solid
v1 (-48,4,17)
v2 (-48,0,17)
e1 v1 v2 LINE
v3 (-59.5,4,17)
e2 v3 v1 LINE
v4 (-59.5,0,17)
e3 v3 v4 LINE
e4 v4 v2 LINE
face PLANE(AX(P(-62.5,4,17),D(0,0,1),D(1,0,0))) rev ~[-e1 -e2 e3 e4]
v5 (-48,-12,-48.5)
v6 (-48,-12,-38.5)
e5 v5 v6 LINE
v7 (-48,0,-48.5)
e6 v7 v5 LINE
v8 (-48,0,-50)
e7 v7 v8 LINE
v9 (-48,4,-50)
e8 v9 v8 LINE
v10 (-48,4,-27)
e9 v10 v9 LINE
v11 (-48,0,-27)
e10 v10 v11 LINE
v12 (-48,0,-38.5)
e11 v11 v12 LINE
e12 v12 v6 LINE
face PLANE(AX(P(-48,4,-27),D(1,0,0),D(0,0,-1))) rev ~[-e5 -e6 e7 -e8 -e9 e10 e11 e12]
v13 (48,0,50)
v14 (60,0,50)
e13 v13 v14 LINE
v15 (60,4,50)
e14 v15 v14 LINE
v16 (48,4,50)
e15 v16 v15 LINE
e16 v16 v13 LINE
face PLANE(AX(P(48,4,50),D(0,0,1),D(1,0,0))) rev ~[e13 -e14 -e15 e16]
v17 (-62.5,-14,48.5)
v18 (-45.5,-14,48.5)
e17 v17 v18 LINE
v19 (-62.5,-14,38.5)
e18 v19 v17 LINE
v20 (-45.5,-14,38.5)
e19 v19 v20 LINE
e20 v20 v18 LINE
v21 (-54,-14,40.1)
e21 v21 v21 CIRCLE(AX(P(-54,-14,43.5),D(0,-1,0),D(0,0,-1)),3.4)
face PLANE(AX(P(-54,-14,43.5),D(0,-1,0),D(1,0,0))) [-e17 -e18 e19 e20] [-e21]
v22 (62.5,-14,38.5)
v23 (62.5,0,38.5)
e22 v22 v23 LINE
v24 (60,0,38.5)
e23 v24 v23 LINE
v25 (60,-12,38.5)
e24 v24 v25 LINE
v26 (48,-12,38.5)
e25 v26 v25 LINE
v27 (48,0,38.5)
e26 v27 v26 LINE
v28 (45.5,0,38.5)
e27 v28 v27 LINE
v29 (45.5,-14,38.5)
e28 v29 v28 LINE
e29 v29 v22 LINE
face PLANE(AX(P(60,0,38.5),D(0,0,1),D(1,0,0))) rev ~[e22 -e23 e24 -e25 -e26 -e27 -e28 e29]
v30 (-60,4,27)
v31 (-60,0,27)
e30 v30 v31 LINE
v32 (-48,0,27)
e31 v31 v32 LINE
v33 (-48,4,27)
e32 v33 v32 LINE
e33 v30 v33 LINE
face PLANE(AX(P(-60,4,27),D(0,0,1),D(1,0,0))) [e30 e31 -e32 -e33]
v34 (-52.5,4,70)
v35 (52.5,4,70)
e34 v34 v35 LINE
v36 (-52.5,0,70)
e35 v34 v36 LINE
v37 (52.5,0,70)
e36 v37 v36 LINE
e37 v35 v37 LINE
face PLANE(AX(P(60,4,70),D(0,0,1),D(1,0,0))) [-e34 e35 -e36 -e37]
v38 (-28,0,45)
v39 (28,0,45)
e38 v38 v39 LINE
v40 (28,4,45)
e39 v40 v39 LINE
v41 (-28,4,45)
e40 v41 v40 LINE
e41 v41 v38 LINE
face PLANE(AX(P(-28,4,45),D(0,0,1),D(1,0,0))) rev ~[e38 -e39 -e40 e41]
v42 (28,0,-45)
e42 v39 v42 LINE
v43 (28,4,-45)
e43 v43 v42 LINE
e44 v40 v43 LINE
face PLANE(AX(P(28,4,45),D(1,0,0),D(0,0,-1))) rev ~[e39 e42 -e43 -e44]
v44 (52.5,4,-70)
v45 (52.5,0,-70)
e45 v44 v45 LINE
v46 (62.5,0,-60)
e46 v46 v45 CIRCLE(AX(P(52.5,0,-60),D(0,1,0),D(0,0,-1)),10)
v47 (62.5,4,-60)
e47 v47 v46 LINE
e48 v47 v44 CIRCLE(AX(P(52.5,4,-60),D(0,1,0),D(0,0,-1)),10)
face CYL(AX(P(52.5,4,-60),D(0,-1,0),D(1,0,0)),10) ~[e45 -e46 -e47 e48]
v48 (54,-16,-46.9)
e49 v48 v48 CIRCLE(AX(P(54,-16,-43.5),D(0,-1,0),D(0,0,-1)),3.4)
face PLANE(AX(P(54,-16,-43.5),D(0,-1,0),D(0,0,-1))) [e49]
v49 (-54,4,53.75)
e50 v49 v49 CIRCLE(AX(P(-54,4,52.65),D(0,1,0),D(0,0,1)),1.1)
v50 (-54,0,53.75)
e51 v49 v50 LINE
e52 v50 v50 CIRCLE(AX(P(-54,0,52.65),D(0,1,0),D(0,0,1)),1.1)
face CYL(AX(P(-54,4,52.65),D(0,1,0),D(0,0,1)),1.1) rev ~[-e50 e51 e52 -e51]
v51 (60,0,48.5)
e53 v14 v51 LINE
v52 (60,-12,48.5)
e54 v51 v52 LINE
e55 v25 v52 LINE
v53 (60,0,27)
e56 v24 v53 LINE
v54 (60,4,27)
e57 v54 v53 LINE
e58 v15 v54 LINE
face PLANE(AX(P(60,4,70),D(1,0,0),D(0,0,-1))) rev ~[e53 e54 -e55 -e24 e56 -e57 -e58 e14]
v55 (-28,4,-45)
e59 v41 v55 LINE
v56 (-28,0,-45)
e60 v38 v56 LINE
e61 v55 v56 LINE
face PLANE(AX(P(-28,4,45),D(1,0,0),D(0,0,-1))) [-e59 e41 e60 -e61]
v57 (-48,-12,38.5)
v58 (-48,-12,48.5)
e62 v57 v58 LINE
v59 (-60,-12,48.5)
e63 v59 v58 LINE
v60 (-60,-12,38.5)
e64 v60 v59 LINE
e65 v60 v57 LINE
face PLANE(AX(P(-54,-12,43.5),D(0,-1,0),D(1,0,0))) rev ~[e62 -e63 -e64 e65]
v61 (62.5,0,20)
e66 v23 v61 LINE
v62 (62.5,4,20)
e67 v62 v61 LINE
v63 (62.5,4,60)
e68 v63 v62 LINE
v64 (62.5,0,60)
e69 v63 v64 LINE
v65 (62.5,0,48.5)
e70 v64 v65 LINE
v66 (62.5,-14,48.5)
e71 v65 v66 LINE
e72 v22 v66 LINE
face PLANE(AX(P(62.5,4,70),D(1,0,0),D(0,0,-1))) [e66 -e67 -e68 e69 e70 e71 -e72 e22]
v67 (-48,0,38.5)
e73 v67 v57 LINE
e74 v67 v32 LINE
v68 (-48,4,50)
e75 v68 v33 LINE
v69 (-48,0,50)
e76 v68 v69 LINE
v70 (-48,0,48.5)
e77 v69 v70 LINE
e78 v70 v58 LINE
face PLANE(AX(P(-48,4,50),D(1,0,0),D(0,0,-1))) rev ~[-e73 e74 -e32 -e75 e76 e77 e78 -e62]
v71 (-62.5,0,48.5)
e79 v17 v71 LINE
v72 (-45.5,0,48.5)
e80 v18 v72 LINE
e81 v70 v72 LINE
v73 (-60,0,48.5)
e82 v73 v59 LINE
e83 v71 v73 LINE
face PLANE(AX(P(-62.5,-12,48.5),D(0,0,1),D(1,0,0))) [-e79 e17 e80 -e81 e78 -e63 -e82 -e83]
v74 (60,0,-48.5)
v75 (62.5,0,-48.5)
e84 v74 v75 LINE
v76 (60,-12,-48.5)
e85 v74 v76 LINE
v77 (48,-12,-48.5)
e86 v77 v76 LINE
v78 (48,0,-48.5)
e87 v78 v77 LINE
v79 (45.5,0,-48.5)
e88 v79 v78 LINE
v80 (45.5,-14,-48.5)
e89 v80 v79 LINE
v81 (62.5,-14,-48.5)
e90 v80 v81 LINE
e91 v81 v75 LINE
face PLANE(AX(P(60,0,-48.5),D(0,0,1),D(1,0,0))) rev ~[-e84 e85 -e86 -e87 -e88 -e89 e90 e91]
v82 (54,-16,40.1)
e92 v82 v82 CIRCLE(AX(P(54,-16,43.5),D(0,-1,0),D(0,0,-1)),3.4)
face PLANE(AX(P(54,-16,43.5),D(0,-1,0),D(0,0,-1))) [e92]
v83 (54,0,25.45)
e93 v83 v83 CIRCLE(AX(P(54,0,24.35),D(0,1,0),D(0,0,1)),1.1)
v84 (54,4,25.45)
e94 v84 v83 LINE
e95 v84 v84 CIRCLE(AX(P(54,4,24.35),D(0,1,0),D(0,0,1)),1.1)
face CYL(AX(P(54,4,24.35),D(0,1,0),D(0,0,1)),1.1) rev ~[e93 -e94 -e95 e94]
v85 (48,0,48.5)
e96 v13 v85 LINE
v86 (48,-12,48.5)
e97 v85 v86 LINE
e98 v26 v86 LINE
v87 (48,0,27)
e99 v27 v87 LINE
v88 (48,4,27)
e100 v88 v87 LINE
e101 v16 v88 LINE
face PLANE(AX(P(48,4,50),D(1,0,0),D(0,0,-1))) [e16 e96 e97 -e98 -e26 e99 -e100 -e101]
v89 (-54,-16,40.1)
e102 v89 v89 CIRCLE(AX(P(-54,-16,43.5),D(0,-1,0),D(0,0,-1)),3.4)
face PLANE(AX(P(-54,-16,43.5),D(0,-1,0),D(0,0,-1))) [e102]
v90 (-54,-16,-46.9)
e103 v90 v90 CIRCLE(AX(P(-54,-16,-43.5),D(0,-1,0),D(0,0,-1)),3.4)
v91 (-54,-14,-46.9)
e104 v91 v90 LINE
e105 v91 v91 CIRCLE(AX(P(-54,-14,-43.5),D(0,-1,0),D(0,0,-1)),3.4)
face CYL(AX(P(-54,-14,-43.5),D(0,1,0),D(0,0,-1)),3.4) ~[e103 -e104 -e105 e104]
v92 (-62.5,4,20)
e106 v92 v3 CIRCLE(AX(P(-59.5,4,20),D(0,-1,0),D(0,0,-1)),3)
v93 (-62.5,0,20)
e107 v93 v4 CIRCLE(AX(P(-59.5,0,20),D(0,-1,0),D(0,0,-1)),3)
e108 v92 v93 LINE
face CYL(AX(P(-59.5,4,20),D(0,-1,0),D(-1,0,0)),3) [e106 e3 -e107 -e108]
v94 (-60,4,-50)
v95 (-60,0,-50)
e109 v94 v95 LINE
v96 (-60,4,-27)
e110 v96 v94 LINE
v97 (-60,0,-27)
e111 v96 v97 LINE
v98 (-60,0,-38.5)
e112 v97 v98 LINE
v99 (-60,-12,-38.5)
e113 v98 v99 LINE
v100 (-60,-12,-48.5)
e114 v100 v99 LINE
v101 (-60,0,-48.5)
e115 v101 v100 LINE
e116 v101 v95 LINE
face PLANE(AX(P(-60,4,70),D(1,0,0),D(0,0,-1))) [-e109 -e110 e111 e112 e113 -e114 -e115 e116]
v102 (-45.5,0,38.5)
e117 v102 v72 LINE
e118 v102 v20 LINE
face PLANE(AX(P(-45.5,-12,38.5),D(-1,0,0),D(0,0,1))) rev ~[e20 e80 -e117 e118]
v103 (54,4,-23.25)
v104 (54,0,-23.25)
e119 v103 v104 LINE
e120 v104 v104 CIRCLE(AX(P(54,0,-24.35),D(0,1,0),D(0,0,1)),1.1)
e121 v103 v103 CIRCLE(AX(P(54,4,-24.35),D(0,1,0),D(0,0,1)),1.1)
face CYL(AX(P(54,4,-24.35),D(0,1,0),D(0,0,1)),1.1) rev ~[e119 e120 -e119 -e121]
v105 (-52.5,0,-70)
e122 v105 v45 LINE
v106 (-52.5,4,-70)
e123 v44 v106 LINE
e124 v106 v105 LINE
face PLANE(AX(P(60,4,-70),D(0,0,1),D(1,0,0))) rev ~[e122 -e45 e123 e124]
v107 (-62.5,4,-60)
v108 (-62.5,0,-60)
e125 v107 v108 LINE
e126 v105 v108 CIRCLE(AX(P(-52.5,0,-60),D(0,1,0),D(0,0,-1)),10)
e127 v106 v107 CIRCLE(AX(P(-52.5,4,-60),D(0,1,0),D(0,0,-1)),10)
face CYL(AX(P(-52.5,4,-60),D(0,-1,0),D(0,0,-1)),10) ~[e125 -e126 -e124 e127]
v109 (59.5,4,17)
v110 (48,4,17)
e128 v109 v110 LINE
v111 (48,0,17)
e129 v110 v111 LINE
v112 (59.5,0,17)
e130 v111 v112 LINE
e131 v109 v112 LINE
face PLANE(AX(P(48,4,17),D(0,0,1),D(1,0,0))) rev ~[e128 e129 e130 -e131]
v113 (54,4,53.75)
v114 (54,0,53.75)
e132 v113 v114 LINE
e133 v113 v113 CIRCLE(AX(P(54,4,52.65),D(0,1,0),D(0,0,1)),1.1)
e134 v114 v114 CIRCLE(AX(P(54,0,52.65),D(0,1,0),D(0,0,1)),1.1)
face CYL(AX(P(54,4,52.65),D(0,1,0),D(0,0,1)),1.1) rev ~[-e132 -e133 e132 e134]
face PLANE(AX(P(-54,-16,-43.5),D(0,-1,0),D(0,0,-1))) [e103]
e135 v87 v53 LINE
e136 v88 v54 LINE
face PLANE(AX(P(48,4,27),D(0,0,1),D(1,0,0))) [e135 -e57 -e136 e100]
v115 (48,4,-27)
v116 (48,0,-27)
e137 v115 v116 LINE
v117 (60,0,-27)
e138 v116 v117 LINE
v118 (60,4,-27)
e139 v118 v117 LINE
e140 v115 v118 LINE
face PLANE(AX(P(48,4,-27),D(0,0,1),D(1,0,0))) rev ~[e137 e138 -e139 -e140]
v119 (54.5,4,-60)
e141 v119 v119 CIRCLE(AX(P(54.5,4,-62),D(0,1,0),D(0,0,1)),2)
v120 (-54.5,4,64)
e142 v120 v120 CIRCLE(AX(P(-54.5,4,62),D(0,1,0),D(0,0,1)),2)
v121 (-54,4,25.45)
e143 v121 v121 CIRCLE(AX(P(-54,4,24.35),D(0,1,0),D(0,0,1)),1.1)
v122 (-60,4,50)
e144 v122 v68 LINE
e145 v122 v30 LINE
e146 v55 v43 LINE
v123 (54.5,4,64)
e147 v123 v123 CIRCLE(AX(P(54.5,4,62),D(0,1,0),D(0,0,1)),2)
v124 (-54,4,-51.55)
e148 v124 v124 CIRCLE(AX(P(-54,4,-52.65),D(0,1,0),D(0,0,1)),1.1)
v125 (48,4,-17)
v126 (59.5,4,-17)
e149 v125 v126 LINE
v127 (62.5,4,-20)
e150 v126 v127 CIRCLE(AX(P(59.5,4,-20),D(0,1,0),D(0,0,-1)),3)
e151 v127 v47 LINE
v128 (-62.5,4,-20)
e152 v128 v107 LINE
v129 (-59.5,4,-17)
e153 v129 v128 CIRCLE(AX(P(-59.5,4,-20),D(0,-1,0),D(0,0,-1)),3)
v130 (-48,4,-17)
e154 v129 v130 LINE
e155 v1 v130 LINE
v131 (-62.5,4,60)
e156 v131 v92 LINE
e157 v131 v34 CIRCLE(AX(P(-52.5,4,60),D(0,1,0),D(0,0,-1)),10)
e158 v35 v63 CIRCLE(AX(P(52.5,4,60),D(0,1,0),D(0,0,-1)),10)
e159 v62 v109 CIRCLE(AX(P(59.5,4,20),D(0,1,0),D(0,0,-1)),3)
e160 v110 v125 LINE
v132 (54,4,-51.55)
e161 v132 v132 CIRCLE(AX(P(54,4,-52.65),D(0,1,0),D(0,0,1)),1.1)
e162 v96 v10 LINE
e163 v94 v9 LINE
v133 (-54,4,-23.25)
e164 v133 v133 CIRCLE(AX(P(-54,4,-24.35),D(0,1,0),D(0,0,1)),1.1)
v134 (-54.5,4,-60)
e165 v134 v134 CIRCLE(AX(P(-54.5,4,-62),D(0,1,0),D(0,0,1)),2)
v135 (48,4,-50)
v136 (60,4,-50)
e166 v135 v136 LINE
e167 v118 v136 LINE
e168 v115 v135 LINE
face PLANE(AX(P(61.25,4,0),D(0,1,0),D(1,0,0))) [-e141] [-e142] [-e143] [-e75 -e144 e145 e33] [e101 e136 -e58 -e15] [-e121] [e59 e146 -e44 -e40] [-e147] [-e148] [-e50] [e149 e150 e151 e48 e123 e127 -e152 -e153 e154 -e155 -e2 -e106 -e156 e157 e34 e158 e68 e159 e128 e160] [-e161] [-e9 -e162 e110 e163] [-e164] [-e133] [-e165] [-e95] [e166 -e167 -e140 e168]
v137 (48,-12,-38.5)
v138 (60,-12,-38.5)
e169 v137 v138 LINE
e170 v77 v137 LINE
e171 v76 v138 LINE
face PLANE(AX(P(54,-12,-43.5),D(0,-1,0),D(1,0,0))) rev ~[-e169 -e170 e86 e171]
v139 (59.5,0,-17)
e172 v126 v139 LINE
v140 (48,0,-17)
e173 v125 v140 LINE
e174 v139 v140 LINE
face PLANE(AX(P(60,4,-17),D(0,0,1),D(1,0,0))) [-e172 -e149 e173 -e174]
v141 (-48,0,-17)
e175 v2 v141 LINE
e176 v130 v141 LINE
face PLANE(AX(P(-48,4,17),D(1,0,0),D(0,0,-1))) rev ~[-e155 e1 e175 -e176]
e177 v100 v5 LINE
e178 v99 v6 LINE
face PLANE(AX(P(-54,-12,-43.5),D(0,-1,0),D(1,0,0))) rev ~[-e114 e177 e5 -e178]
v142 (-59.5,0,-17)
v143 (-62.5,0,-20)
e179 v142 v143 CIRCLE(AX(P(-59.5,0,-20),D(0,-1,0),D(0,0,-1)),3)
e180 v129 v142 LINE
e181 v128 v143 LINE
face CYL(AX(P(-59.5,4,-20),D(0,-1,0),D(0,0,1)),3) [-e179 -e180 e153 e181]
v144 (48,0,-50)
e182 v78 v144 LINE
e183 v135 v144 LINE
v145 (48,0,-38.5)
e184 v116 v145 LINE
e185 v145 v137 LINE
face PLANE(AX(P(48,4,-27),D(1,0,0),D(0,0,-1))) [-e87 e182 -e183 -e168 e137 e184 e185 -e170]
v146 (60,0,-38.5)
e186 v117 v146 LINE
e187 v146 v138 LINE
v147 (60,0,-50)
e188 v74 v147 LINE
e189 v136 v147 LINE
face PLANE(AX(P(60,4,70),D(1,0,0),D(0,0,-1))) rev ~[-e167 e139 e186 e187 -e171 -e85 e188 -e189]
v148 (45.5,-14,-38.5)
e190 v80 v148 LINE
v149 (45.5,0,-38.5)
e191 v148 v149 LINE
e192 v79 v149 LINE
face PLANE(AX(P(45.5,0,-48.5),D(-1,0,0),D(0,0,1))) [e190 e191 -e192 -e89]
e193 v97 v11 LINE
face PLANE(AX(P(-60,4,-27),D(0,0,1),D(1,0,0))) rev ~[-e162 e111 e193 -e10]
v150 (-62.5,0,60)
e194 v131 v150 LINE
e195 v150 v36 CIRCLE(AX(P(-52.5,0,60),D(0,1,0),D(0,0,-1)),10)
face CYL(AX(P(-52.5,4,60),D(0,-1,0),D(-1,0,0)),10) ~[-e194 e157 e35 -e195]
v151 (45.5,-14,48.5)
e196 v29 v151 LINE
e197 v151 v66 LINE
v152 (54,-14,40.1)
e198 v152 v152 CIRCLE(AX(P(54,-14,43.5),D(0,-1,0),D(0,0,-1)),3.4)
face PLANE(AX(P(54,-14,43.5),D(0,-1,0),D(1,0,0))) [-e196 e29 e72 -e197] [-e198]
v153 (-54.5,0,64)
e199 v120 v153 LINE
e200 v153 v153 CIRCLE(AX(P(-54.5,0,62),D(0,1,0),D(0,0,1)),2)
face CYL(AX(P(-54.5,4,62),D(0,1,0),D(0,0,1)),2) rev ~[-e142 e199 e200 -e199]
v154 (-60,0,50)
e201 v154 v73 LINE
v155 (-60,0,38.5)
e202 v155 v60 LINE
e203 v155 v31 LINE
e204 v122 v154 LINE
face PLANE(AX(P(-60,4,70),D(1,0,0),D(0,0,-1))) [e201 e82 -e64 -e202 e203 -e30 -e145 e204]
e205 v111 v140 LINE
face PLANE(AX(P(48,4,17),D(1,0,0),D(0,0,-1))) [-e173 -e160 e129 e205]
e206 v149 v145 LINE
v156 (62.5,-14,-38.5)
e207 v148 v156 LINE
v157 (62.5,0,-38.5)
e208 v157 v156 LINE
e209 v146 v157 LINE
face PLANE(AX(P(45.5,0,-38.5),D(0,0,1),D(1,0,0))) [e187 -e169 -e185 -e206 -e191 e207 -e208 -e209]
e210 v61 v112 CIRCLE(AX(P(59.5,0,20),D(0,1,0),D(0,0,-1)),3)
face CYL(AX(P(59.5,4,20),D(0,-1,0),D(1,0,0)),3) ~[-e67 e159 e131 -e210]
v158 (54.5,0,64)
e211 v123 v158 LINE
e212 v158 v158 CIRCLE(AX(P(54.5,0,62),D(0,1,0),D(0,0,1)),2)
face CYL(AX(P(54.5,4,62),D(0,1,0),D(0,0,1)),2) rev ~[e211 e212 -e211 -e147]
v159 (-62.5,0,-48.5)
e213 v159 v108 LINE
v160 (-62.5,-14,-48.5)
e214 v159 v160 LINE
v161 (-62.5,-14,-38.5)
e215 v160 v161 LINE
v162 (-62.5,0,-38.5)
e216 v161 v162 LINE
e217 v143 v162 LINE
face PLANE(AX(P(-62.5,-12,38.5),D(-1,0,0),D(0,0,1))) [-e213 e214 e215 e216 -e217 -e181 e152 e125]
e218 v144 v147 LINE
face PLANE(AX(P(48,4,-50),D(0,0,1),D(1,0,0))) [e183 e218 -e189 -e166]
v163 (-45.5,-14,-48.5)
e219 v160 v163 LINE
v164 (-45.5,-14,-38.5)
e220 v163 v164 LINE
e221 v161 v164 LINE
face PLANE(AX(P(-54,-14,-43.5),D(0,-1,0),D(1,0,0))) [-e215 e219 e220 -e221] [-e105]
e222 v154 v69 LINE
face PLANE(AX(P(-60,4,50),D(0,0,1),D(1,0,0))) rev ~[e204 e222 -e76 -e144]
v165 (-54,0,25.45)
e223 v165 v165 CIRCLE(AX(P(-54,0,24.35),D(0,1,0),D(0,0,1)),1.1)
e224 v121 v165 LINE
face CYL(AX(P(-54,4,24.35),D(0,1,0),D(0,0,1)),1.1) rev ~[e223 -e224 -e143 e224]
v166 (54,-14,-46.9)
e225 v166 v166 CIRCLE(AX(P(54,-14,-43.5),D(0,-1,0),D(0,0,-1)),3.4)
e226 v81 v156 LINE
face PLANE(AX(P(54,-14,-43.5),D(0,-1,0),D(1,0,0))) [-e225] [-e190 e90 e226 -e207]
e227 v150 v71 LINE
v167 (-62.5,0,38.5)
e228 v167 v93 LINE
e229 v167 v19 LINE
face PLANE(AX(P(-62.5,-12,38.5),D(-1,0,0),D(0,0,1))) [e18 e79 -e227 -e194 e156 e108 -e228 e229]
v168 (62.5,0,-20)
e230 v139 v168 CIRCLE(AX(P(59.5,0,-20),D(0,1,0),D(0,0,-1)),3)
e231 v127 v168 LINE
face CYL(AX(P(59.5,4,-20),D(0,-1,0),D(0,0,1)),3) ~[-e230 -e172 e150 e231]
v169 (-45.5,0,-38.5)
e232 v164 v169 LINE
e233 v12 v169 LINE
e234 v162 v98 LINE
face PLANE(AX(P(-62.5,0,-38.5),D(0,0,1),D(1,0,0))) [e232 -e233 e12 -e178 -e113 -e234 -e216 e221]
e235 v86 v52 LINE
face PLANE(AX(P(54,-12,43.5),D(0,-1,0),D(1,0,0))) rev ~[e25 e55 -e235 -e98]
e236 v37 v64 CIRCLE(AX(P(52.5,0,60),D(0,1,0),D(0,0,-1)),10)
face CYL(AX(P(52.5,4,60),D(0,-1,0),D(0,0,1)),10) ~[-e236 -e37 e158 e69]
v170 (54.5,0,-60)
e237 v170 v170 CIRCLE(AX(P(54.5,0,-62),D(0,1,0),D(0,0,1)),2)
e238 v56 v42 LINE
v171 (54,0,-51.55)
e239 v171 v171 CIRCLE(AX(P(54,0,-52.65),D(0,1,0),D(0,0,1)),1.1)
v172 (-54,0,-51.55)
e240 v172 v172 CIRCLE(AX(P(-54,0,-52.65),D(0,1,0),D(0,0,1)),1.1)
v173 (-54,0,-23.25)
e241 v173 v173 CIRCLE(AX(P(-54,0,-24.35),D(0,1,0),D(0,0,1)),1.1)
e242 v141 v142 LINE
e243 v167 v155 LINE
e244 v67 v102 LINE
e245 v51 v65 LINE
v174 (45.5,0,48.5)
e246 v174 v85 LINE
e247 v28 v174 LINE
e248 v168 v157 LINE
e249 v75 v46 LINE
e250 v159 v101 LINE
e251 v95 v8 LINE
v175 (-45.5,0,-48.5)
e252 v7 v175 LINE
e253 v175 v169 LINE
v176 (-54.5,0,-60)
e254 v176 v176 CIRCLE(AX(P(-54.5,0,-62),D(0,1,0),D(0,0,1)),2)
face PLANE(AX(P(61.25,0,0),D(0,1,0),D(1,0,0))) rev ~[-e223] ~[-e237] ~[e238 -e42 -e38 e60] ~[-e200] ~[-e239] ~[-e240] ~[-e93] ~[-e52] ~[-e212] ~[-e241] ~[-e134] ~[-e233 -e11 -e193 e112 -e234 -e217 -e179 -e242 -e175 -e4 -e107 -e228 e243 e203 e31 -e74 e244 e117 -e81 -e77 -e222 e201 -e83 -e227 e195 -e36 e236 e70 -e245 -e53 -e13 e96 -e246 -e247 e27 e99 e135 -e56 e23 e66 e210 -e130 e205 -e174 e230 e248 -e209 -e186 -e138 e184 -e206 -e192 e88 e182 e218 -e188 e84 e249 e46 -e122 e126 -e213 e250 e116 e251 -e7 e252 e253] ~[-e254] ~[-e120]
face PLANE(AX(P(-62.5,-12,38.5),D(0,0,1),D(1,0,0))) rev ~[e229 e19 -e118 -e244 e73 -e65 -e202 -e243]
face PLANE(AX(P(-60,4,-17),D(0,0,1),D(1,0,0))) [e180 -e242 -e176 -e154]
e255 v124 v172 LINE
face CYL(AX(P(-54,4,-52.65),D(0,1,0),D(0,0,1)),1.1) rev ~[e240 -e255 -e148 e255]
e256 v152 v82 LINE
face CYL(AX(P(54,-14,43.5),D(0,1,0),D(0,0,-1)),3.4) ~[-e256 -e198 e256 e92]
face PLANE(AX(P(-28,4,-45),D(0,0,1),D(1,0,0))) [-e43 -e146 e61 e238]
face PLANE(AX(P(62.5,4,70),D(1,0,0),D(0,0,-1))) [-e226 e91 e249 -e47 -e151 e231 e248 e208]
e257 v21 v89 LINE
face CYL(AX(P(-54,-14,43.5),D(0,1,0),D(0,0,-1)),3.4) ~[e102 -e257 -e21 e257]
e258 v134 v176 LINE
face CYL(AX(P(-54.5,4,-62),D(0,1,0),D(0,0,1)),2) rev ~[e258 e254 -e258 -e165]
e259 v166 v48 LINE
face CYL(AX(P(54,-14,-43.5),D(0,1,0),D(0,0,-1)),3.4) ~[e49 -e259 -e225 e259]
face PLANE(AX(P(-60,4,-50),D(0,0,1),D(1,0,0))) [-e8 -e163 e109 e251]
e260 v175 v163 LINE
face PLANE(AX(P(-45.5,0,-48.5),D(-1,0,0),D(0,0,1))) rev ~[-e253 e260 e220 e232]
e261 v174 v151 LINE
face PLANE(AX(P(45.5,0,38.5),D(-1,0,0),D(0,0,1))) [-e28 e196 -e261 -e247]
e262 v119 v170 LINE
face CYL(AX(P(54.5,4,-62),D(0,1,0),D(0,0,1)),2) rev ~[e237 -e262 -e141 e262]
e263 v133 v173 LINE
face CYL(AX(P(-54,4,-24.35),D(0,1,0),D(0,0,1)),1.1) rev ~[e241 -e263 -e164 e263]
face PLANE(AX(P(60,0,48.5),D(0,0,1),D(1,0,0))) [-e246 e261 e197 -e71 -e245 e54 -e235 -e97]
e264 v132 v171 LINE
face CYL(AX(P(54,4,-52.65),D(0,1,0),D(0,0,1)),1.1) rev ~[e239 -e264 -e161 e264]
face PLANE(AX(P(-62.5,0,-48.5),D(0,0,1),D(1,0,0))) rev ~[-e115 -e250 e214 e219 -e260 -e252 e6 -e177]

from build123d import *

# Parameters (mm, degrees)
SKETCH1_W           = 120
SKETCH1_H           = 140
BOSS_EXTRUDE1_DEPTH = 4
SKETCH2_W           = 12
SKETCH2_H           = 23
SKETCH2_H_2         = 34
SKETCH2_R           = 1.1
SKETCH2_R_2         = 2
CUT_EXTRUDE1_DEPTH  = 93.28217596
SKETCH3_W           = 2.5
SKETCH3_H           = 140
BOSS_EXTRUDE2_DEPTH = 4
SKETCH7_W           = 2.5
SKETCH7_H           = 10
BOSS_EXTRUDE6_DEPTH = 12
SKETCH8_W           = 17
SKETCH8_H           = 10
BOSS_EXTRUDE7_DEPTH = 2
SKETCH9_R           = 3.4
BOSS_EXTRUDE8_DEPTH = 2
SKETCH10_W          = 2.5
SKETCH10_H          = 34
CUT_EXTRUDE2_DEPTH  = 96.949205312
FILLET1_R           = 10
FILLET2_R           = 10
FILLET3_R           = 10
FILLET4_R           = 10
FILLET5_R           = 3
FILLET6_R           = 3
FILLET7_R           = 3
FILLET8_R           = 3
SKETCH11_W          = 56
SKETCH11_H          = 90
CUT_EXTRUDE3_DEPTH  = 96.949205312


with BuildPart() as part:
    # Sketch1 → Boss-Extrude1 (new body)
    with BuildSketch(Plane(origin=(0, 0, 0), x_dir=(1, 0, 0), z_dir=(0, 1, 0))):
        Rectangle(SKETCH1_W, SKETCH1_H)
    extrude(amount=BOSS_EXTRUDE1_DEPTH)

    # Sketch2 → Cut-Extrude1 (cut, through all)
    with BuildSketch(Plane(origin=(0, 4, 0), x_dir=(1, 0, 0), z_dir=(0, 1, 0))):
        with Locations((54, 38.5)):
            Rectangle(SKETCH2_W, SKETCH2_H)
        with Locations((-54, 38.5)):
            Rectangle(SKETCH2_W, SKETCH2_H)
        with Locations((54, -38.5)):
            Rectangle(SKETCH2_W, SKETCH2_H)
        with Locations((-54, -38.5)):
            Rectangle(SKETCH2_W, SKETCH2_H)
        with Locations((-54, 0)):
            Rectangle(SKETCH2_W, SKETCH2_H_2)
        with Locations((54, 0)):
            Rectangle(SKETCH2_W, SKETCH2_H_2)
        with Locations(Location((-54, 52.65, 0), (0, 0, 270))):
            Circle(SKETCH2_R)
        with Locations(Location((-54, 24.35, 0), (0, 0, 270))):
            Circle(SKETCH2_R)
        with Locations(Location((-54, -24.35, 0), (0, 0, 270))):
            Circle(SKETCH2_R)
        with Locations(Location((-54, -52.65, 0), (0, 0, 270))):
            Circle(SKETCH2_R)
        with Locations(Location((54, 52.65, 0), (0, 0, 270))):
            Circle(SKETCH2_R)
        with Locations(Location((54, 24.35, 0), (0, 0, 270))):
            Circle(SKETCH2_R)
        with Locations(Location((54, -24.35, 0), (0, 0, 270))):
            Circle(SKETCH2_R)
        with Locations(Location((54, -52.65, 0), (0, 0, 270))):
            Circle(SKETCH2_R)
        with Locations(Location((-54.5, 62, 0), (0, 0, 270))):
            Circle(SKETCH2_R_2)
        with Locations(Location((54.5, 62, 0), (0, 0, 270))):
            Circle(SKETCH2_R_2)
        with Locations(Location((54.5, -62, 0), (0, 0, 270))):
            Circle(SKETCH2_R_2)
        with Locations(Location((-54.5, -62, 0), (0, 0, 270))):
            Circle(SKETCH2_R_2)
    extrude(amount=-CUT_EXTRUDE1_DEPTH, mode=Mode.SUBTRACT)

    # Sketch3 → Boss-Extrude2 (add)
    with BuildSketch(Plane(origin=(0, 4, 0), x_dir=(1, 0, 0), z_dir=(0, 1, 0))):
        with Locations((61.25, 0)):
            Rectangle(SKETCH3_W, SKETCH3_H)
        with Locations((-61.25, 0)):
            Rectangle(SKETCH3_W, SKETCH3_H)
    extrude(amount=-BOSS_EXTRUDE2_DEPTH)

    # Sketch7 → Boss-Extrude6 (add)
    with BuildSketch(Plane.XZ):
        with Locations((46.75, 43.5)):
            Rectangle(SKETCH7_W, SKETCH7_H)
        with Locations((61.25, 43.5)):
            Rectangle(SKETCH7_W, SKETCH7_H)
        with Locations((-61.25, 43.5)):
            Rectangle(SKETCH7_W, SKETCH7_H)
        with Locations((-46.75, 43.5)):
            Rectangle(SKETCH7_W, SKETCH7_H)
        with Locations((-61.25, -43.5)):
            Rectangle(SKETCH7_W, SKETCH7_H)
        with Locations((-46.75, -43.5)):
            Rectangle(SKETCH7_W, SKETCH7_H)
        with Locations((46.75, -43.5)):
            Rectangle(SKETCH7_W, SKETCH7_H)
        with Locations((61.25, -43.5)):
            Rectangle(SKETCH7_W, SKETCH7_H)
    extrude(amount=BOSS_EXTRUDE6_DEPTH)

    # Sketch8 → Boss-Extrude7 (add)
    with BuildSketch(Plane.XZ.offset(12)):
        with Locations((-54, 43.5)):
            Rectangle(SKETCH8_W, SKETCH8_H)
        with Locations((-54, -43.5)):
            Rectangle(SKETCH8_W, SKETCH8_H)
        with Locations((54, -43.5)):
            Rectangle(SKETCH8_W, SKETCH8_H)
        with Locations((54, 43.5)):
            Rectangle(SKETCH8_W, SKETCH8_H)
    extrude(amount=BOSS_EXTRUDE7_DEPTH)

    # Sketch9 → Boss-Extrude8 (add)
    with BuildSketch(Plane.XZ.offset(14)):
        with Locations(Location((54, 43.5, 0), (0, 0, 270))):
            Circle(SKETCH9_R)
        with Locations(Location((-54, 43.5, 0), (0, 0, 270))):
            Circle(SKETCH9_R)
        with Locations(Location((-54, -43.5, 0), (0, 0, 270))):
            Circle(SKETCH9_R)
        with Locations(Location((54, -43.5, 0), (0, 0, 270))):
            Circle(SKETCH9_R)
    extrude(amount=BOSS_EXTRUDE8_DEPTH)

    # Sketch10 → Cut-Extrude2 (cut, through all)
    with BuildSketch(Plane(origin=(0, 4, 0), x_dir=(1, 0, 0), z_dir=(0, 1, 0))):
        with Locations((61.25, 0)):
            Rectangle(SKETCH10_W, SKETCH10_H)
        with Locations((-61.25, 0)):
            Rectangle(SKETCH10_W, SKETCH10_H)
    extrude(amount=-CUT_EXTRUDE2_DEPTH, mode=Mode.SUBTRACT)

    # Fillet1
    fillet1_edges = [part.edges().sort_by_distance(p)[0] for p in [
        (62.5, 2, -70),
    ]]
    fillet(fillet1_edges, radius=FILLET1_R)

    # Fillet2
    fillet2_edges = [part.edges().sort_by_distance(p)[0] for p in [
        (-62.5, 2, -70),
    ]]
    fillet(fillet2_edges, radius=FILLET2_R)

    # Fillet3
    fillet3_edges = [part.edges().sort_by_distance(p)[0] for p in [
        (-62.5, 2, 70),
    ]]
    fillet(fillet3_edges, radius=FILLET3_R)

    # Fillet4
    fillet4_edges = [part.edges().sort_by_distance(p)[0] for p in [
        (62.5, 2, 70),
    ]]
    fillet(fillet4_edges, radius=FILLET4_R)

    # Fillet5
    fillet5_edges = [part.edges().sort_by_distance(p)[0] for p in [
        (62.5, 2, -17),
    ]]
    fillet(fillet5_edges, radius=FILLET5_R)

    # Fillet6
    fillet6_edges = [part.edges().sort_by_distance(p)[0] for p in [
        (-62.5, 2, 17),
    ]]
    fillet(fillet6_edges, radius=FILLET6_R)

    # Fillet7
    fillet7_edges = [part.edges().sort_by_distance(p)[0] for p in [
        (62.5, 2, 17),
    ]]
    fillet(fillet7_edges, radius=FILLET7_R)

    # Fillet8
    fillet8_edges = [part.edges().sort_by_distance(p)[0] for p in [
        (-62.5, 2, -17),
    ]]
    fillet(fillet8_edges, radius=FILLET8_R)

    # Sketch11 → Cut-Extrude3 (cut, through all)
    with BuildSketch(Plane(origin=(0, 4, 0), x_dir=(1, 0, 0), z_dir=(0, 1, 0))):
        Rectangle(SKETCH11_W, SKETCH11_H)
    extrude(amount=-CUT_EXTRUDE3_DEPTH, mode=Mode.SUBTRACT)


solid = part.part
